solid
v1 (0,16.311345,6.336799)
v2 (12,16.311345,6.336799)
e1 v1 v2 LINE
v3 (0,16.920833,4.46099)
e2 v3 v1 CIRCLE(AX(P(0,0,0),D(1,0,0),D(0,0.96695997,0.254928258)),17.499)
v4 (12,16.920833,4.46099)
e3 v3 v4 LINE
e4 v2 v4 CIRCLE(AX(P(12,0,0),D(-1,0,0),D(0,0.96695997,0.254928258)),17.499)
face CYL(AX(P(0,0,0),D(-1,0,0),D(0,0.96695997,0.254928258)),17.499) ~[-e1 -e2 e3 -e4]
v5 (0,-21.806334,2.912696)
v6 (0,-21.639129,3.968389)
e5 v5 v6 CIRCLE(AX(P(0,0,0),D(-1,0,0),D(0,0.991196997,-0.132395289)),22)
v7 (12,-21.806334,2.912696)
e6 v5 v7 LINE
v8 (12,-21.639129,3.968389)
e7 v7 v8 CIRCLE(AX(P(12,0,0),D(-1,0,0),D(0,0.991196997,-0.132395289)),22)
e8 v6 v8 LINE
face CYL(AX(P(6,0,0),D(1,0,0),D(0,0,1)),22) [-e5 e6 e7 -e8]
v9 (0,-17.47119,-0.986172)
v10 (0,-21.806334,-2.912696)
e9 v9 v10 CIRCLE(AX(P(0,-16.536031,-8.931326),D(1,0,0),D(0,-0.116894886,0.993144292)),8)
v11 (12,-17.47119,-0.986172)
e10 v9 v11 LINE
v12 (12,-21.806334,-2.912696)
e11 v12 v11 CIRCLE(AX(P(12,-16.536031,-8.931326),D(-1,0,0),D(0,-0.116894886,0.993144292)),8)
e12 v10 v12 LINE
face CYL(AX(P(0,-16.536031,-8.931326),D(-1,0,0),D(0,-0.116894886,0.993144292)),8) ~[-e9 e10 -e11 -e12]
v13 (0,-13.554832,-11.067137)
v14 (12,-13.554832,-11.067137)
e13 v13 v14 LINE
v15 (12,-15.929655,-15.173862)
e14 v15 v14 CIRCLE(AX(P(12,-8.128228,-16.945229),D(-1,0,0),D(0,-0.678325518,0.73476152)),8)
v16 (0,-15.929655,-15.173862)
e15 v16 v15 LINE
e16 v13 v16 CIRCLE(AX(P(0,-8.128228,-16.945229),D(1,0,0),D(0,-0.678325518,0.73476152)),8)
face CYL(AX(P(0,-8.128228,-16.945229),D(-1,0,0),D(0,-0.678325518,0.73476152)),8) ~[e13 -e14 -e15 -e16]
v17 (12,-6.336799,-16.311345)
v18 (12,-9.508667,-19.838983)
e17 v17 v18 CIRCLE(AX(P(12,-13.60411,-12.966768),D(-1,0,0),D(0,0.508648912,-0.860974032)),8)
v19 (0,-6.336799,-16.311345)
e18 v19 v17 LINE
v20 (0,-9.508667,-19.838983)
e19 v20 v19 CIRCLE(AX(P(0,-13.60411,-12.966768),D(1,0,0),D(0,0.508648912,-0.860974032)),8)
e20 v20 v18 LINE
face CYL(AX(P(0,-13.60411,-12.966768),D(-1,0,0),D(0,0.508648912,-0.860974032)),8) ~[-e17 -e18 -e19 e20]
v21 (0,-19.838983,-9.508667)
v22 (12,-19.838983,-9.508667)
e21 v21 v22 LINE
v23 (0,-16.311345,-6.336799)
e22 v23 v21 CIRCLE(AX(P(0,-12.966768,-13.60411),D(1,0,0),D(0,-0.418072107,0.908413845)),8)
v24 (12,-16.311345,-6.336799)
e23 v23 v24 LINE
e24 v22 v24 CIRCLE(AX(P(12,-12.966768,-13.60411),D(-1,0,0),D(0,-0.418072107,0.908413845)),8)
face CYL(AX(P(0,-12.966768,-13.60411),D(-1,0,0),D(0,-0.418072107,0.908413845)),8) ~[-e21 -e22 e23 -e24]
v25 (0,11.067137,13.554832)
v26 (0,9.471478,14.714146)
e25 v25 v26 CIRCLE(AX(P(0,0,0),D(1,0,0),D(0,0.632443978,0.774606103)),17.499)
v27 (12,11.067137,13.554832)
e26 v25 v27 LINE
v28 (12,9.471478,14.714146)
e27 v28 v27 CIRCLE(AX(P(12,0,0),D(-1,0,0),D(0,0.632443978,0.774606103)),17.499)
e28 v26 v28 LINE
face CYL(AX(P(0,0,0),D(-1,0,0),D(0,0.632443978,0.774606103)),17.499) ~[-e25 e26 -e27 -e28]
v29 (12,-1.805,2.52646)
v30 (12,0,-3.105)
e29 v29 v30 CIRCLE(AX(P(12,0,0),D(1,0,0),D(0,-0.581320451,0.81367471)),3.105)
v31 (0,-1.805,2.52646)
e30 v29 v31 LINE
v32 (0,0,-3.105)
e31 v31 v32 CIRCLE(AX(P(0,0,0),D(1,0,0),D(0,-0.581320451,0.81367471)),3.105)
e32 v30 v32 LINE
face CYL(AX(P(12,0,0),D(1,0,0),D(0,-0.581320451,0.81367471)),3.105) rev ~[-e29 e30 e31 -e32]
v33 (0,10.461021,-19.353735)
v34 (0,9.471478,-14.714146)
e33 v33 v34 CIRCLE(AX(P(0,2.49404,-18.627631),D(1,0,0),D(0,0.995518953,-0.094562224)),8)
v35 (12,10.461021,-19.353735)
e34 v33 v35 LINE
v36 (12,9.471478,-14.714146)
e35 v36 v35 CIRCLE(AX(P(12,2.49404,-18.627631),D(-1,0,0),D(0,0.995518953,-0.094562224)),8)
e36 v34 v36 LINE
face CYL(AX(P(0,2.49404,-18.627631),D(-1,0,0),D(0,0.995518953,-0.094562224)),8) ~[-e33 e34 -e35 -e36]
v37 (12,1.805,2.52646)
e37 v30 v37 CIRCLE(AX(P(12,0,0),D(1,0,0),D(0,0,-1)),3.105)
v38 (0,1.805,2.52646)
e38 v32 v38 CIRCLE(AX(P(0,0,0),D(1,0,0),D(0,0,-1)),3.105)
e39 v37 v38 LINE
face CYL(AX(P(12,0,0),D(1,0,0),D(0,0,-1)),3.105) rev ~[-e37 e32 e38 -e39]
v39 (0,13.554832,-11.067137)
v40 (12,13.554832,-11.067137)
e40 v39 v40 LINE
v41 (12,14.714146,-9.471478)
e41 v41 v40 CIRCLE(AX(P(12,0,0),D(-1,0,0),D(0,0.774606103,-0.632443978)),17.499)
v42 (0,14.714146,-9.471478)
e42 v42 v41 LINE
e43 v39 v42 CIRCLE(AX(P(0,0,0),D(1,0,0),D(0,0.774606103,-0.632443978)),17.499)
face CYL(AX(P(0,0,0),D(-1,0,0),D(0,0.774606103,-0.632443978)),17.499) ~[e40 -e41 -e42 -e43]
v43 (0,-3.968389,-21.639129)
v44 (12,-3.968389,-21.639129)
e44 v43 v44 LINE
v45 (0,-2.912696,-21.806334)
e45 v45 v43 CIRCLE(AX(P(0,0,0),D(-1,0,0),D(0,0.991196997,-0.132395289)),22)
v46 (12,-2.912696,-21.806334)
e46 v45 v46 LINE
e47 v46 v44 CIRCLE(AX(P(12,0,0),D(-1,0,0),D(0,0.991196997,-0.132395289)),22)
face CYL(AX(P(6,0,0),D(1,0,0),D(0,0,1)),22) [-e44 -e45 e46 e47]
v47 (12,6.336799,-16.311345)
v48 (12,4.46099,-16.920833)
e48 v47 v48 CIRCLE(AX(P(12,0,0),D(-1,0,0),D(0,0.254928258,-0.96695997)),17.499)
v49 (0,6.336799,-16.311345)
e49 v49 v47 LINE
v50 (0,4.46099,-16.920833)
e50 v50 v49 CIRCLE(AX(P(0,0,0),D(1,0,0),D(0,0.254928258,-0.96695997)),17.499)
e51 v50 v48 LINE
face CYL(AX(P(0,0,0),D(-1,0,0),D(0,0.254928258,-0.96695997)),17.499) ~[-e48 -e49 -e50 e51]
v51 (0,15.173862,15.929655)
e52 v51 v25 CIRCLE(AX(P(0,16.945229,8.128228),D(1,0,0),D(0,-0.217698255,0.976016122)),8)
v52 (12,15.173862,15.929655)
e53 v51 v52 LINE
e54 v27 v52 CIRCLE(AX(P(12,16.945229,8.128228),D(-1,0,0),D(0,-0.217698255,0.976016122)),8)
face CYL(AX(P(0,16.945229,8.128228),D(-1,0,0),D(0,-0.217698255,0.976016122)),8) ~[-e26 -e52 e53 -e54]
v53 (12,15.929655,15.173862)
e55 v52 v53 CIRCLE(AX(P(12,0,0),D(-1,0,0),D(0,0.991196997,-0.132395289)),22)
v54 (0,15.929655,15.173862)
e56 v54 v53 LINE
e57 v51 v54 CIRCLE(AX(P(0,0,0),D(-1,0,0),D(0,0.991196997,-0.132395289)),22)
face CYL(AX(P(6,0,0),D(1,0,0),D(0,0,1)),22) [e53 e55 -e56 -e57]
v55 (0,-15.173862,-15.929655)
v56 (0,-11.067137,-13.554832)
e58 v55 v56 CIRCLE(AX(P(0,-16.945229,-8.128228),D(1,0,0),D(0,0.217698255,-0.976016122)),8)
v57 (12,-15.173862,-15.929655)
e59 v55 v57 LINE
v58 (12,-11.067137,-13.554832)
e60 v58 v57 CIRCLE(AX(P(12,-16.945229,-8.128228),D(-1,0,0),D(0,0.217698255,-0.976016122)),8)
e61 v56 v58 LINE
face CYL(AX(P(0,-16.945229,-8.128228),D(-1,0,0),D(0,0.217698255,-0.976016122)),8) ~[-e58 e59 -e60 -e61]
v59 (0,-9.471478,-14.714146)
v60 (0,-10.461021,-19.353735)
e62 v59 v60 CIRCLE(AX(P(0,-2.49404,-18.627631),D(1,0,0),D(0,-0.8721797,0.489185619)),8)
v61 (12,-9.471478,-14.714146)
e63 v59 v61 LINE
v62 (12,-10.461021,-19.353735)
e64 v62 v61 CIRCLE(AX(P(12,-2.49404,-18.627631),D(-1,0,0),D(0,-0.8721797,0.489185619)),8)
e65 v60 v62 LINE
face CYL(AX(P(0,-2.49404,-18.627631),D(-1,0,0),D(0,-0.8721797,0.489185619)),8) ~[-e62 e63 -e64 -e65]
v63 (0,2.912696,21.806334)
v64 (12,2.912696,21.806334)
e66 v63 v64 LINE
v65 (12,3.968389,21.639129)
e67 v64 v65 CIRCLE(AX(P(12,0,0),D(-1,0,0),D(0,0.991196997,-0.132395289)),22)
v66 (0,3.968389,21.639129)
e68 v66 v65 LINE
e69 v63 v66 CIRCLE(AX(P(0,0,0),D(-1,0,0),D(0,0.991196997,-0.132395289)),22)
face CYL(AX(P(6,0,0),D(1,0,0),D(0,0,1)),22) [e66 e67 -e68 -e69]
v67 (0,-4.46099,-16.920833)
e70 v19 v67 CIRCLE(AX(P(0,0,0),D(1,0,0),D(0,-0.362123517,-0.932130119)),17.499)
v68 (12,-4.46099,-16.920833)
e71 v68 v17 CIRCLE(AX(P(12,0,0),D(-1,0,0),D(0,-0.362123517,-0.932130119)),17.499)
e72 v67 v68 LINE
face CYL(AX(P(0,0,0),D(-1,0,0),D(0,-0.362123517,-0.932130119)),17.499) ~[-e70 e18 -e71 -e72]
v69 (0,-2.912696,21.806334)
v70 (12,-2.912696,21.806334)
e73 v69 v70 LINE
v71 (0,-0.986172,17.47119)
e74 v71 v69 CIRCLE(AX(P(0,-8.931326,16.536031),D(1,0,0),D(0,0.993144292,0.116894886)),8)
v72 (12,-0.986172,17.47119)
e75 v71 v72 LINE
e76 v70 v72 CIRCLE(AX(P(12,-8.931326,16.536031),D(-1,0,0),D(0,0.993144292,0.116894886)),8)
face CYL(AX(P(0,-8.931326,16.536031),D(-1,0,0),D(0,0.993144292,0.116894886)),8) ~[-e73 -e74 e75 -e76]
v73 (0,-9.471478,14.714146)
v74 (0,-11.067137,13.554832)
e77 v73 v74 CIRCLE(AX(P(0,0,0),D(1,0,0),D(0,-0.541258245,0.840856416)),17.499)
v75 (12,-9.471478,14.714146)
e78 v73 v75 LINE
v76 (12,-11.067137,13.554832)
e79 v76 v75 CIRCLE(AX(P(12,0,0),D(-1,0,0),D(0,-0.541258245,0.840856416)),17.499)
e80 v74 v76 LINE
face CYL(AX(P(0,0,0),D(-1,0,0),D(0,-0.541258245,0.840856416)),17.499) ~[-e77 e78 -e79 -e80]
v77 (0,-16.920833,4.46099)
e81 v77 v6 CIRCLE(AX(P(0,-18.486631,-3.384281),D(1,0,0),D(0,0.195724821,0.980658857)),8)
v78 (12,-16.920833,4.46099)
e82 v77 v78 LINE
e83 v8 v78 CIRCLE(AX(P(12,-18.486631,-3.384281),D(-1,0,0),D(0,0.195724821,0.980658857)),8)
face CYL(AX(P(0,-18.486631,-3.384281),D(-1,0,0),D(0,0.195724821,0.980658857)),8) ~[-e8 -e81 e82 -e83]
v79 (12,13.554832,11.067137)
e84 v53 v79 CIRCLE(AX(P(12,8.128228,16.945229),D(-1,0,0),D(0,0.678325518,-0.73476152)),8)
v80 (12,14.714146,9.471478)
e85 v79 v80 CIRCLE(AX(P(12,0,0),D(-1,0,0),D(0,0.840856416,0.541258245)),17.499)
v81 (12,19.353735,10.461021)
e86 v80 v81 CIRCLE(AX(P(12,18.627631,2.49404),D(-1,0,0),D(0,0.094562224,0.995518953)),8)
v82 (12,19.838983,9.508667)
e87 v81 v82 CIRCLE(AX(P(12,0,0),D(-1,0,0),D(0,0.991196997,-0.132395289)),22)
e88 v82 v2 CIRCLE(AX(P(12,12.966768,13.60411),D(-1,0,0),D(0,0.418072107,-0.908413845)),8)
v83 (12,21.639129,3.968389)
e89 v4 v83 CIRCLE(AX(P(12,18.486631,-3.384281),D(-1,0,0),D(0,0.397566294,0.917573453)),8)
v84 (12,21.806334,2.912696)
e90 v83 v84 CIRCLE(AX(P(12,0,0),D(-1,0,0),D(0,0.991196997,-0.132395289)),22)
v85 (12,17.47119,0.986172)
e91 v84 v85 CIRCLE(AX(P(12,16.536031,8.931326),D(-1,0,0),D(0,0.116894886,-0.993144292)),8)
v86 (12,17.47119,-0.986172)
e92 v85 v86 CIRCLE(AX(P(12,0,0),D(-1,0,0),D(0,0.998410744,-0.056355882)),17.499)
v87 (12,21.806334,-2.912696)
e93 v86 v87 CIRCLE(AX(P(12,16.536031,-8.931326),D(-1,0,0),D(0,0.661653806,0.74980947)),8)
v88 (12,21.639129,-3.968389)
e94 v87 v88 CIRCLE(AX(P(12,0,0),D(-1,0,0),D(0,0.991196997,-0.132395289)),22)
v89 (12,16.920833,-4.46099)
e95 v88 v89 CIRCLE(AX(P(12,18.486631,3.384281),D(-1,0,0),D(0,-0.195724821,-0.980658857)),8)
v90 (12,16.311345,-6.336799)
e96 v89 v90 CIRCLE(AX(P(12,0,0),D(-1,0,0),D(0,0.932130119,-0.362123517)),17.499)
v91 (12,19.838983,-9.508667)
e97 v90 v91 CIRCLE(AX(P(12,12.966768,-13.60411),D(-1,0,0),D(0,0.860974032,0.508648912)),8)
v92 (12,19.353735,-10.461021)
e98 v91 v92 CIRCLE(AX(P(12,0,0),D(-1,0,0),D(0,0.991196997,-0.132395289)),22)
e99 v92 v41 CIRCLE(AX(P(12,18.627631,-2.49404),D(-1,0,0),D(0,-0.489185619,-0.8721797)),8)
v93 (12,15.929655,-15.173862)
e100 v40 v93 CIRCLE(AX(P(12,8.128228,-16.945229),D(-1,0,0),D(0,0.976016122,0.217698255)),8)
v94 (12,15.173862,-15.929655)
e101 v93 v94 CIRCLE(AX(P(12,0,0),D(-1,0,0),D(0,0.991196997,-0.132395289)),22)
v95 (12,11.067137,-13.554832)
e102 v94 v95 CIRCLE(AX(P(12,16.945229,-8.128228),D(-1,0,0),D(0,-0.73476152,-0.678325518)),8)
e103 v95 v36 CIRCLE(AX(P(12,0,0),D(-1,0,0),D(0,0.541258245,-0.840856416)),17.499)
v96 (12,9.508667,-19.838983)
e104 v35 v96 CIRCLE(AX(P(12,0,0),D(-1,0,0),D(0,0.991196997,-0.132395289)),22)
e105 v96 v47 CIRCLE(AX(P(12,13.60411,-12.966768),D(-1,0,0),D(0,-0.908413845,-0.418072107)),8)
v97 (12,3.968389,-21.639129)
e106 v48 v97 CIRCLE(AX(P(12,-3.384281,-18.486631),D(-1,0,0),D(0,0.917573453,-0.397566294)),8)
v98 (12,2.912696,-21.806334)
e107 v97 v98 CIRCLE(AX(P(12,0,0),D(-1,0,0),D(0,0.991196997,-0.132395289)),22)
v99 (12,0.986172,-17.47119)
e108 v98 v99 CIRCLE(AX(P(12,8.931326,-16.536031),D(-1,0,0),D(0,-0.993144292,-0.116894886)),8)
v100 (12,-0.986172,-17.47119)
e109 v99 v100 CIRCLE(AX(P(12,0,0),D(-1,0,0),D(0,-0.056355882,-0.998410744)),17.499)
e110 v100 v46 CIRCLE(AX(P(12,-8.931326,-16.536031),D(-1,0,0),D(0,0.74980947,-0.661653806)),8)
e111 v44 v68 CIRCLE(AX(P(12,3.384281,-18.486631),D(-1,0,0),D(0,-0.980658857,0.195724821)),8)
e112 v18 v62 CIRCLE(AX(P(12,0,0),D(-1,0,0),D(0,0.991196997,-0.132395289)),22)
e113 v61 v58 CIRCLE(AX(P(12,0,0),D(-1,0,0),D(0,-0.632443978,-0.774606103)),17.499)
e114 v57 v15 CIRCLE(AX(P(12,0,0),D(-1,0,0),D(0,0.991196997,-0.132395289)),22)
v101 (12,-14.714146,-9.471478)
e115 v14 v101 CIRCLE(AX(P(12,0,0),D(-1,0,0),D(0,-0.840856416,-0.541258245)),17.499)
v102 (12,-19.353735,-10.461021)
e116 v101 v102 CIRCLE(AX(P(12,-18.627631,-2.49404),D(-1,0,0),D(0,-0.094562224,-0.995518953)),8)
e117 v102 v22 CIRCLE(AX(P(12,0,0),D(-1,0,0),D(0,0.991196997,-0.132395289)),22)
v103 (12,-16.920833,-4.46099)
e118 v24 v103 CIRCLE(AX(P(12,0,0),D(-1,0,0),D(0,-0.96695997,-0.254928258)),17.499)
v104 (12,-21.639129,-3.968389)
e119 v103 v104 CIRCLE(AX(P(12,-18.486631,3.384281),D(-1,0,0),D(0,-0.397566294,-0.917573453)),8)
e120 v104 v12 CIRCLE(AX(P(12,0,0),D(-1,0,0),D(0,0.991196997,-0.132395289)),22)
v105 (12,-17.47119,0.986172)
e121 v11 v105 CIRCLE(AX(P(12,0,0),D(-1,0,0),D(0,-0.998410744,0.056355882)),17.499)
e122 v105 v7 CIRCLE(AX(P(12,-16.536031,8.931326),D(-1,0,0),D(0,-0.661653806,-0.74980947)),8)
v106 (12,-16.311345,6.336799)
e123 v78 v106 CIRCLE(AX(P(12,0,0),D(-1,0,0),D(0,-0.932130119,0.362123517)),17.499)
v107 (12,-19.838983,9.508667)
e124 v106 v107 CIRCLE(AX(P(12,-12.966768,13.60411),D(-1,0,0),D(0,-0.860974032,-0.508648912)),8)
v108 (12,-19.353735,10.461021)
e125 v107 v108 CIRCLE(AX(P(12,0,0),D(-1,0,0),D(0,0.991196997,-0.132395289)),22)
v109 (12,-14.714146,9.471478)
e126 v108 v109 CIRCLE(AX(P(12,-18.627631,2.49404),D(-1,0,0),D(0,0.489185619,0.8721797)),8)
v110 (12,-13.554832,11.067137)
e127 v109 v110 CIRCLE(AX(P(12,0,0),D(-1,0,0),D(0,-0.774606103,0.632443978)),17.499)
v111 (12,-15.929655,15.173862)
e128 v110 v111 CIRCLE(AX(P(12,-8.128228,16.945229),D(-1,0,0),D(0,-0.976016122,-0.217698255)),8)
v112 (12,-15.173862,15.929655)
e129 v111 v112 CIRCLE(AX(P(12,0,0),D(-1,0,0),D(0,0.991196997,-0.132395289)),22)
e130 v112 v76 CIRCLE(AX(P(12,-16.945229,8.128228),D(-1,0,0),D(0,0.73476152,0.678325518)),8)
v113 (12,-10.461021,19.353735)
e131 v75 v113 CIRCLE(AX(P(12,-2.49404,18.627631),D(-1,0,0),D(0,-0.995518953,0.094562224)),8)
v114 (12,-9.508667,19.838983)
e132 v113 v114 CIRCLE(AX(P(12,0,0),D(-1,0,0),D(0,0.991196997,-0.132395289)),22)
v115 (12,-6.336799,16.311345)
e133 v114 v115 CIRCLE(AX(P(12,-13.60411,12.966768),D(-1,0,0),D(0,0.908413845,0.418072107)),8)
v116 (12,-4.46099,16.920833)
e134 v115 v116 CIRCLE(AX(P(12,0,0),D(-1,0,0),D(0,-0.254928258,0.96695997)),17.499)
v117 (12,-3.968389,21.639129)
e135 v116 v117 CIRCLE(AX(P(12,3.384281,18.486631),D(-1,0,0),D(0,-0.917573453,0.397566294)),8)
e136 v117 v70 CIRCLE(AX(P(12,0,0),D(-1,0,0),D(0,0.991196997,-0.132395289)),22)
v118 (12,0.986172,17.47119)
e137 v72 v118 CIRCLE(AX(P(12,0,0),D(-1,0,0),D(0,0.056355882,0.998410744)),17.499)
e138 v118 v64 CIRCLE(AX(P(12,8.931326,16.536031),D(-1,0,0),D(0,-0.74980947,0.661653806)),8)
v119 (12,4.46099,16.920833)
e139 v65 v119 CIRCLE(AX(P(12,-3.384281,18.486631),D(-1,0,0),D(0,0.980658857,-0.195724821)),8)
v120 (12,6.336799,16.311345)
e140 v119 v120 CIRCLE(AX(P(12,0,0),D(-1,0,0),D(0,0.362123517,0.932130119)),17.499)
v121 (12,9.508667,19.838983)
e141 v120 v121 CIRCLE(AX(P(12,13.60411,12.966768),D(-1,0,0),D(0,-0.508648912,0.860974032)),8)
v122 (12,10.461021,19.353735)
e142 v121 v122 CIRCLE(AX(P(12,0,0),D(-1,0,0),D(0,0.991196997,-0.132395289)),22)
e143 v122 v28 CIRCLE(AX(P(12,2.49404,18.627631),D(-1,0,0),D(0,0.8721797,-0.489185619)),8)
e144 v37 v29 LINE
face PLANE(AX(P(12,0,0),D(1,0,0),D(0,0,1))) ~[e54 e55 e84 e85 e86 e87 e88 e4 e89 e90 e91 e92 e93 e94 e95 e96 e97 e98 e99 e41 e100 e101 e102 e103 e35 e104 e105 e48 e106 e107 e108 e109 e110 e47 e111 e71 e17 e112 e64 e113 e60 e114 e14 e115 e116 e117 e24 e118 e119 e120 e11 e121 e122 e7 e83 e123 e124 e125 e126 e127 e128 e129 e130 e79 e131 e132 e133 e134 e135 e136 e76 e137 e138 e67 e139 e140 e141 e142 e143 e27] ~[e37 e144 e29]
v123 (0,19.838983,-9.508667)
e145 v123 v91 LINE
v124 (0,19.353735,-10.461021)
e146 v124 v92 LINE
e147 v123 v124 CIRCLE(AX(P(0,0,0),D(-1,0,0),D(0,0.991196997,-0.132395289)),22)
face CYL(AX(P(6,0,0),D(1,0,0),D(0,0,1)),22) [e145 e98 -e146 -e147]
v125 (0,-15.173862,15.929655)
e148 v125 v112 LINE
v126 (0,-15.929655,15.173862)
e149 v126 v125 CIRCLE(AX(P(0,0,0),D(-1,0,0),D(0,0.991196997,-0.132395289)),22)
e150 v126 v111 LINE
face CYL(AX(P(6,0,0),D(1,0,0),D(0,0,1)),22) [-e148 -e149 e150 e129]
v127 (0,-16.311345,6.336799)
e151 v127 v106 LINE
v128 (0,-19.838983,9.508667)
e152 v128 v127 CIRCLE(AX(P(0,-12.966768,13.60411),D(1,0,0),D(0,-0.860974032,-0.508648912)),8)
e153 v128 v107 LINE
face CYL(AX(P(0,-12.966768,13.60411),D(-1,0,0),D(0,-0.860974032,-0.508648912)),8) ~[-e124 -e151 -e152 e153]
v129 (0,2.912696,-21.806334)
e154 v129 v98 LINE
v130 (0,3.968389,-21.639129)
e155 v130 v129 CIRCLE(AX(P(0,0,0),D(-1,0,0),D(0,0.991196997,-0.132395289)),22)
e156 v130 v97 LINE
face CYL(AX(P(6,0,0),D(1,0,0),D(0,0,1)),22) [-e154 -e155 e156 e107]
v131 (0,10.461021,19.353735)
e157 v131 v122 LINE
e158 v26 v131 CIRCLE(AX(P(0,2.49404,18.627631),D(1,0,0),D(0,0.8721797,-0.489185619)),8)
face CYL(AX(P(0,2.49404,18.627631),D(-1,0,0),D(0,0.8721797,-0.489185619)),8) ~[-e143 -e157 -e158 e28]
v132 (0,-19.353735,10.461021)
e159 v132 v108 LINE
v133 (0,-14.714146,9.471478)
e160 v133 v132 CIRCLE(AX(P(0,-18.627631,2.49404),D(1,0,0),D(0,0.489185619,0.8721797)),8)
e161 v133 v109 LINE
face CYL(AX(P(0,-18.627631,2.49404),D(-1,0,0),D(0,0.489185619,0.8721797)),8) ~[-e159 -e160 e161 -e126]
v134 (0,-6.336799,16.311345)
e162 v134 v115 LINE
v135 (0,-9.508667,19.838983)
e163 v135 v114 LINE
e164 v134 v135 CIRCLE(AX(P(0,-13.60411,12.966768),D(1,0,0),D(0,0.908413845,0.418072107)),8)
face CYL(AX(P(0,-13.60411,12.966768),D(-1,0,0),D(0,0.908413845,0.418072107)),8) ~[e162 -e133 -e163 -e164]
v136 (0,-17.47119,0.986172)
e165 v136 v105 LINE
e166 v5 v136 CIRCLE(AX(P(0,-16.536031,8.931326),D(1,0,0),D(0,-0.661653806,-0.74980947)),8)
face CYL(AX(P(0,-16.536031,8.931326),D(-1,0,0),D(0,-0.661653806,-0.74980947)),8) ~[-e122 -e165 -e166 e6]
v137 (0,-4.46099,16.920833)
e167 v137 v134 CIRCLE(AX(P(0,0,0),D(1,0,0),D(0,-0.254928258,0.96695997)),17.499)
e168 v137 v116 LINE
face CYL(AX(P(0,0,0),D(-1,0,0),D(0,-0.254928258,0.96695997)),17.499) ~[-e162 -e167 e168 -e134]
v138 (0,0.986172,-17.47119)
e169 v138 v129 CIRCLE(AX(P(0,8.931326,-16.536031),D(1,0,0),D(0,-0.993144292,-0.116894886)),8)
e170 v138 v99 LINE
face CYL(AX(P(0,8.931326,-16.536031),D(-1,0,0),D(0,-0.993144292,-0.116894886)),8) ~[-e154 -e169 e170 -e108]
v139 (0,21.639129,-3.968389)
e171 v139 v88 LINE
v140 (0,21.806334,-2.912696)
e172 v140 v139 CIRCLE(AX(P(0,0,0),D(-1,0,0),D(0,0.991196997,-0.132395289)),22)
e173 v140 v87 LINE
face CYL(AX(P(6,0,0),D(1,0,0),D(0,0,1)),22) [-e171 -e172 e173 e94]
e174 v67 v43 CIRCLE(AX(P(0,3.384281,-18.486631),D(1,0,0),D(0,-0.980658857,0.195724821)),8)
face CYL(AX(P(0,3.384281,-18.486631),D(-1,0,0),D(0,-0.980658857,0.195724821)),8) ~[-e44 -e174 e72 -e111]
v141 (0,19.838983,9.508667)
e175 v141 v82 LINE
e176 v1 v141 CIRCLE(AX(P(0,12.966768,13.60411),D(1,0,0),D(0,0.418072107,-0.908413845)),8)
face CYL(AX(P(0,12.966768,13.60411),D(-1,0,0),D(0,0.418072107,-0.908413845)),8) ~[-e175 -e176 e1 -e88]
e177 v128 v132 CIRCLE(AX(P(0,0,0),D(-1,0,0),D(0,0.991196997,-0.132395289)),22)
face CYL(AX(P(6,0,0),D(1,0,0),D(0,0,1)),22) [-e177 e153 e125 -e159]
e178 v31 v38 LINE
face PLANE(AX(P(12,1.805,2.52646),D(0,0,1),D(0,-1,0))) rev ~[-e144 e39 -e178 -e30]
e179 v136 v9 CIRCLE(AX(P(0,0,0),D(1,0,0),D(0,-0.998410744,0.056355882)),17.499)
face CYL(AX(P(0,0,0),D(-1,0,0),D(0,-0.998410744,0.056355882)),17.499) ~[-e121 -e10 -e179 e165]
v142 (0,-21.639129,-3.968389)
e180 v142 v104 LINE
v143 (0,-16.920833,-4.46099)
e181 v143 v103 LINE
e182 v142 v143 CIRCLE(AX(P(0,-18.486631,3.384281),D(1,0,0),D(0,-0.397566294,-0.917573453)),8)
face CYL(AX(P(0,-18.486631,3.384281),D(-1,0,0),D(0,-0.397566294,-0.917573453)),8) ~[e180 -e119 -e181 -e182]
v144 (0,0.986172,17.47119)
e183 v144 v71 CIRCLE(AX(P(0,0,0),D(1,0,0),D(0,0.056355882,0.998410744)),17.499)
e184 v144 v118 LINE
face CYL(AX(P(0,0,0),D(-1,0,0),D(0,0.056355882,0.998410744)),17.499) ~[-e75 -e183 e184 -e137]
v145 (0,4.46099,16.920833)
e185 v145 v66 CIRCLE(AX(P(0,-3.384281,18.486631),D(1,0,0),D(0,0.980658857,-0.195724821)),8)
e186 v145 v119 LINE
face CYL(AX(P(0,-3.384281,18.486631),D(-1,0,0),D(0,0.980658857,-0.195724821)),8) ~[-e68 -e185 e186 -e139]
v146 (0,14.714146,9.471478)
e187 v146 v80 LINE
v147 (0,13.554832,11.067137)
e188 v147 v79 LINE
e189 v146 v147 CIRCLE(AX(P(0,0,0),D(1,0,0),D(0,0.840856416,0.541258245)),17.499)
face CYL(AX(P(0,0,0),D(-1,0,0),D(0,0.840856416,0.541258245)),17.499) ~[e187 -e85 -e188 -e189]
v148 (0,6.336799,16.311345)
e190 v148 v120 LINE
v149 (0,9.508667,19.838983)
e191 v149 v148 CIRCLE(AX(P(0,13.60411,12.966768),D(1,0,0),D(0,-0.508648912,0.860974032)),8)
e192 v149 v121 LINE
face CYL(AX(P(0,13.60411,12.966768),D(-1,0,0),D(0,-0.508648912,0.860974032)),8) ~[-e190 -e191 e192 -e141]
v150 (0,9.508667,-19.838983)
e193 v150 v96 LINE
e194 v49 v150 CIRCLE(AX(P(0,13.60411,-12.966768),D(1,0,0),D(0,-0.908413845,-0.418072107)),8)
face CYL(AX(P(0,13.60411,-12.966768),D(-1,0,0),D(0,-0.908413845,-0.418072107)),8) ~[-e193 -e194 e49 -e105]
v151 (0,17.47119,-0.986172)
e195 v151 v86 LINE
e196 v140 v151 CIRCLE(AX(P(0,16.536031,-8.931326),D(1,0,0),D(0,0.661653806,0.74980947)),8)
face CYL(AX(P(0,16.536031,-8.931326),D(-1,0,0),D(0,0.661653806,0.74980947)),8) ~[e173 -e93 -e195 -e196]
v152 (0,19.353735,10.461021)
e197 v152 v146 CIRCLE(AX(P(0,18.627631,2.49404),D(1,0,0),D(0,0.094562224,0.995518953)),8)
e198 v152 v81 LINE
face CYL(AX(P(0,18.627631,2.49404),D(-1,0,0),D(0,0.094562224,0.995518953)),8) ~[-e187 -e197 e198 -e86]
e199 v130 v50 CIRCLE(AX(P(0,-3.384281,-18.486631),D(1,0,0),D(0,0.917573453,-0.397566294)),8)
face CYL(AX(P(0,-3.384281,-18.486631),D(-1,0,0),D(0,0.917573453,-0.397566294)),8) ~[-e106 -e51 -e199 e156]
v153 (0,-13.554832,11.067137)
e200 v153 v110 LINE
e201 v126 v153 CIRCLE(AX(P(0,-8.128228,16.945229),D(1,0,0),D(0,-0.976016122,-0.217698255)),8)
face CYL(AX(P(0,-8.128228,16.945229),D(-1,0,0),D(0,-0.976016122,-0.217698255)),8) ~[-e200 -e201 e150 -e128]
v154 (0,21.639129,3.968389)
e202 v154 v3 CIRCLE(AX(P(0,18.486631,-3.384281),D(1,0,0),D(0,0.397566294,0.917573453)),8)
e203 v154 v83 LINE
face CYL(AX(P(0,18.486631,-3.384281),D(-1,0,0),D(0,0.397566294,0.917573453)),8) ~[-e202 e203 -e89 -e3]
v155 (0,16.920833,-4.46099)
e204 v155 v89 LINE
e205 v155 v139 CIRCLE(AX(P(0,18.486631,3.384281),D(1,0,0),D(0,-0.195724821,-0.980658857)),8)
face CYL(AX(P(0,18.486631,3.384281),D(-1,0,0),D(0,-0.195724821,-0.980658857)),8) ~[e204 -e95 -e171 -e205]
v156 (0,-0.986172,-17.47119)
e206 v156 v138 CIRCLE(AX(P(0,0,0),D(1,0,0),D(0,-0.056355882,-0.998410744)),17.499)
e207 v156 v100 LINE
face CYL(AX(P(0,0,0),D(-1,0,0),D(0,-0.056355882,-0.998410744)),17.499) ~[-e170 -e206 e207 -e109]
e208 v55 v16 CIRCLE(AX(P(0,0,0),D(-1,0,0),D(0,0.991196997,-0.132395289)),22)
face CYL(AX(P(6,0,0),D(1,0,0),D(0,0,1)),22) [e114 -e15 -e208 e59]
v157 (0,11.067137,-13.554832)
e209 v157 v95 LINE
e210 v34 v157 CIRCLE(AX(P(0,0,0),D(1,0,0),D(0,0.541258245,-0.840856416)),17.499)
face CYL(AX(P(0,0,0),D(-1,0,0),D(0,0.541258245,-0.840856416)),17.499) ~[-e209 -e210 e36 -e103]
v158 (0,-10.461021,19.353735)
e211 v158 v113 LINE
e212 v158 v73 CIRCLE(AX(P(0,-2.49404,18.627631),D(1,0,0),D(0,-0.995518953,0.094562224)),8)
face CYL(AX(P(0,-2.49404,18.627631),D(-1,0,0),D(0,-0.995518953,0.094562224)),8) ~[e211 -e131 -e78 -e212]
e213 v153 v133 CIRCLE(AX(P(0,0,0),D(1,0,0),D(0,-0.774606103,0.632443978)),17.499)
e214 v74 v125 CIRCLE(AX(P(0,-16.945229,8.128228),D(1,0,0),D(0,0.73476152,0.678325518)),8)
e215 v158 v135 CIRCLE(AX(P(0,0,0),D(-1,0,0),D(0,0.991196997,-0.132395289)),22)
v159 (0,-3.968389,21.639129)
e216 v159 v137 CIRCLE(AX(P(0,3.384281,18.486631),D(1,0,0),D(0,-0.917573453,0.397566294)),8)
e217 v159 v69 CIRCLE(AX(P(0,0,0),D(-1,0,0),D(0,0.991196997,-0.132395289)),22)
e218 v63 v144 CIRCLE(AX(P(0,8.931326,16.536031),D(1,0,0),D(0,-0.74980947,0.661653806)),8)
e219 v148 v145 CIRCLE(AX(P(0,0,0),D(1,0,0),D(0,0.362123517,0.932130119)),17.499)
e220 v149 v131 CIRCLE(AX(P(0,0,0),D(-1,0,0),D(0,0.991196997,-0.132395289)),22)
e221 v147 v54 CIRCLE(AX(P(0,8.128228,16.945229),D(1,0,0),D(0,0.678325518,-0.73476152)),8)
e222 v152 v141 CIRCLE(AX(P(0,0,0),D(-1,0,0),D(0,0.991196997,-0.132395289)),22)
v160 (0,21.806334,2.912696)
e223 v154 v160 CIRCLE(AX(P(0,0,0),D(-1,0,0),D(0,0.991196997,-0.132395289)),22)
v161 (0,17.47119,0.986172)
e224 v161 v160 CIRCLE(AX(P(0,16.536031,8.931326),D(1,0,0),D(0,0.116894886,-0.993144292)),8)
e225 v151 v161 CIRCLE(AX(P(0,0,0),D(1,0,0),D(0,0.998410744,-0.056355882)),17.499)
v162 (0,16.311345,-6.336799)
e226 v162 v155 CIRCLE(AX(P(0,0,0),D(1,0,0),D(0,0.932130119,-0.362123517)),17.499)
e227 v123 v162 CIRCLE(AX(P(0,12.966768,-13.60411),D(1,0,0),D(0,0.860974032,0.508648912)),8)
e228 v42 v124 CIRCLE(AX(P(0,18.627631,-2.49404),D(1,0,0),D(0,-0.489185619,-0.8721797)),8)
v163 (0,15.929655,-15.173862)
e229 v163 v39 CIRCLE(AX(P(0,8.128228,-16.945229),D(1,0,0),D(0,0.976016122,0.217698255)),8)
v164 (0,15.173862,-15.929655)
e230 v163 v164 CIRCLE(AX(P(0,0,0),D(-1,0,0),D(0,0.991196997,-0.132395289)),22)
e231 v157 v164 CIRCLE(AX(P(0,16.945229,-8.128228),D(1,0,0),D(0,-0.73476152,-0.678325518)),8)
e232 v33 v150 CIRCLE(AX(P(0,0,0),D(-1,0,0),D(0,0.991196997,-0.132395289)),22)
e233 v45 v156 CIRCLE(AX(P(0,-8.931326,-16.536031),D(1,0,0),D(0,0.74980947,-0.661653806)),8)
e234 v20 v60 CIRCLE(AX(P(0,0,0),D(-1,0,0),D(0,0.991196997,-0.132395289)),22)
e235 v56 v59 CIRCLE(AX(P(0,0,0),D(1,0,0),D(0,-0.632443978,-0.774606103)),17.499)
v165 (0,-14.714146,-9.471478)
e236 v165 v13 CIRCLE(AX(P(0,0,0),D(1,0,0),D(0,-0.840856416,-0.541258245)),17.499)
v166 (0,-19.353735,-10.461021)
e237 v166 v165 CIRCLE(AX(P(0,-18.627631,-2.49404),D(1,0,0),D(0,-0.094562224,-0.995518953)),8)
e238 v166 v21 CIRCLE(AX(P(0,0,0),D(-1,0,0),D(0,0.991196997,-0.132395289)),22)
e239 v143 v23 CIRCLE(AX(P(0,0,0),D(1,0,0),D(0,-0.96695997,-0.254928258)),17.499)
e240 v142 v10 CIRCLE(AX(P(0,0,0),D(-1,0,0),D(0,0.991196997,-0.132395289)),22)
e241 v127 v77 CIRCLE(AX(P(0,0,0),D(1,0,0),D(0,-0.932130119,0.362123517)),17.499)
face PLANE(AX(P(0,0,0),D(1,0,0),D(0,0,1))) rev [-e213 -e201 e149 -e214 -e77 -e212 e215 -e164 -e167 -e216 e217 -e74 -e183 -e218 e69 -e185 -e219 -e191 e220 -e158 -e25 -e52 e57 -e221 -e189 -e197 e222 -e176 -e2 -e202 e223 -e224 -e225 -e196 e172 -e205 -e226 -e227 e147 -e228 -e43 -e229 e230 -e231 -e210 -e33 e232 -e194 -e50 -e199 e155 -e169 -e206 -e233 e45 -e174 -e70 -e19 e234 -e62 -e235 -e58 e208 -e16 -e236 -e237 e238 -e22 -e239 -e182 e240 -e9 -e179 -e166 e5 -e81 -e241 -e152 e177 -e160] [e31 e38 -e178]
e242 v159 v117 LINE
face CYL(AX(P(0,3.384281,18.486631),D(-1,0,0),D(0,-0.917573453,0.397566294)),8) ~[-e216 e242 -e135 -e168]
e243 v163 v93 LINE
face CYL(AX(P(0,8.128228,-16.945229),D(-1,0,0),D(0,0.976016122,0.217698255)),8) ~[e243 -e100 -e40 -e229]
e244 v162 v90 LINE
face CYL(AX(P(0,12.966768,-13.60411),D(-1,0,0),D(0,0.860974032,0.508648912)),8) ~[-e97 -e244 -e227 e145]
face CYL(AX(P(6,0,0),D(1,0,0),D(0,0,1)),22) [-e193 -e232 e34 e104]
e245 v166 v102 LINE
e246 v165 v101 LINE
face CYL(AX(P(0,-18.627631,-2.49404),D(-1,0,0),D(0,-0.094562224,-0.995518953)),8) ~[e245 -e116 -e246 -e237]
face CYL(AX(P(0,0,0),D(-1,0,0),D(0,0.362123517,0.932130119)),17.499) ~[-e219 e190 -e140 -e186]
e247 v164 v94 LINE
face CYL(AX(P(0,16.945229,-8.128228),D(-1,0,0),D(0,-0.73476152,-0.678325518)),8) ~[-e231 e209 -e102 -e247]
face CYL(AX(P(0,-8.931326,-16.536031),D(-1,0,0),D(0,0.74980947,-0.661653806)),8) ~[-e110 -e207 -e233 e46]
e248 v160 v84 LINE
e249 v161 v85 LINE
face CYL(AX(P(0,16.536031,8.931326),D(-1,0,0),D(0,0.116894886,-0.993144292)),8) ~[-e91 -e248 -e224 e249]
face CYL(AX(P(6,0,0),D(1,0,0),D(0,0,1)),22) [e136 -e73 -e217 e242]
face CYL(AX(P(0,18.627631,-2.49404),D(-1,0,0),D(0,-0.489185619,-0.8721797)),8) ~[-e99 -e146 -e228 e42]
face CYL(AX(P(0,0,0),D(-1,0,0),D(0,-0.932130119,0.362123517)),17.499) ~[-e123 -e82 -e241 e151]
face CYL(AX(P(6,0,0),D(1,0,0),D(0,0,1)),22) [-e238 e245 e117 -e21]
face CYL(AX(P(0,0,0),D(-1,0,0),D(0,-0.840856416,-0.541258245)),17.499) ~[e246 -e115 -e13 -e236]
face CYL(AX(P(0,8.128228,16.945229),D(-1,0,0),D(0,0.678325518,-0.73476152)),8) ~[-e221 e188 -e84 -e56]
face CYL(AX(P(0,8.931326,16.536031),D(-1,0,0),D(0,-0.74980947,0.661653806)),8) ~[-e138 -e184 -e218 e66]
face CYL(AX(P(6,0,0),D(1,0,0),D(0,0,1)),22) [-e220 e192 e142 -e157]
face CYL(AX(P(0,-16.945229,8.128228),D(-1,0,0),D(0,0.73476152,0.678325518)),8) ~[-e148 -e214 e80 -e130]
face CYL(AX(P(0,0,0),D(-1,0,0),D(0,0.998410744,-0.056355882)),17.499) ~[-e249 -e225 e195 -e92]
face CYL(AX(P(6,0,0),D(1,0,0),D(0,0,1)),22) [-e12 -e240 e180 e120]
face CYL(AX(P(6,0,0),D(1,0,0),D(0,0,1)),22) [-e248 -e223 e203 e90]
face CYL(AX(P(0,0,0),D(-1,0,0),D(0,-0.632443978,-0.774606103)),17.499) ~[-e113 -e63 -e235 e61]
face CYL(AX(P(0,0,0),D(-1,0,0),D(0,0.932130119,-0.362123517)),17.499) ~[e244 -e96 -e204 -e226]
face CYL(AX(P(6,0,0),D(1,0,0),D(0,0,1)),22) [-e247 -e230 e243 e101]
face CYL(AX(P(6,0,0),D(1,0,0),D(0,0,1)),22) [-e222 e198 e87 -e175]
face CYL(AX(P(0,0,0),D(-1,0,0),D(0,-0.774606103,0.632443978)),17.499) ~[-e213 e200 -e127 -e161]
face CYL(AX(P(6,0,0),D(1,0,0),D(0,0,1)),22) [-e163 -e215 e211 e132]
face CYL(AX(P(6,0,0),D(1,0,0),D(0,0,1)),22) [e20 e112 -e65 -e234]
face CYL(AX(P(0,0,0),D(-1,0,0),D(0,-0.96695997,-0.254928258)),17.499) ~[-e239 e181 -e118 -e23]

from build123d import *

# Parameters (mm, degrees)
BASPROSKE_W           = 12
BASPROSKE_H           = 22
TOOTHCUT_DEPTH        = 34.346664001
TEETHCUTS_COUNT       = 20
TEETHCUTS_ANGLE       = 342
BORSKE_R              = 0.4
BORE_DEPTH            = 50.0000508
KES_EKSTR_ZYON1_DEPTH = 100


with BuildPart() as part:
    # BasProSke → Base-Revolve (revolve)
    with BuildSketch(Plane(origin=(0, 0, 0), x_dir=(1, 0, 0), z_dir=(0, 1, 0)), mode=Mode.PRIVATE) as base_revolve_sk:
        with Locations((6, 11)):
            Rectangle(BASPROSKE_W, BASPROSKE_H)
    revolve(base_revolve_sk.sketch.rotate(Axis((-10, 0, 0), (1, 0, 0)), 180), axis=Axis((-10, 0, 0), (1, 0, 0)))

    # TooCutSke → ToothCut (cut, through all)
    with BuildSketch(Plane(origin=(0, 0, 0), x_dir=(0, 0, -1), z_dir=(1, 0, 0))):
        with BuildLine():
            ThreePointArc((0.986171591, 17.471189616), (0, 17.499), (-0.986171591, 17.471189616))
            ThreePointArc((-0.986171591, 17.471189616), (-1.626916196, 19.798789858), (-2.932850173, 21.829260982))
            ThreePointArc((-2.932850173, 21.829260982), (0, 22.0254), (2.932850173, 21.829260982))
            ThreePointArc((2.932850173, 21.829260982), (1.626916196, 19.798789858), (0.986171591, 17.471189616))
        make_face()
    toothcut = extrude(amount=TOOTHCUT_DEPTH, mode=Mode.SUBTRACT)

    # TeethCuts: ToothCut ×20 about axis
    teethcuts_axis = Axis((-10, 0, 0), (1, 0, 0))
    for i in range(1, TEETHCUTS_COUNT):
        add(toothcut.rotate(teethcuts_axis, i * TEETHCUTS_ANGLE / (TEETHCUTS_COUNT - 1)), mode=Mode.SUBTRACT)

    # BorSke → Bore (cut, symmetric)
    with BuildSketch(Plane(origin=(0, 0, 0), x_dir=(0, 0, -1), z_dir=(1, 0, 0))):
        with Locations(Location((0, 0, 0), (0, 0, 180))):
            Circle(BORSKE_R)
    extrude(amount=BORE_DEPTH, both=True, mode=Mode.SUBTRACT)

    # Çizim1 → Kes-Ekstrüzyon1 (cut)
    with BuildSketch(Plane(origin=(12, 0, 0), x_dir=(0, 0, -1), z_dir=(1, 0, 0))):
        with BuildLine():
            ThreePointArc((3.105, 0), (0.947725377, 2.956829655), (-2.526459974, 1.805))
            Line((-2.526459974, 1.805), (-2.526459974, -1.805))
            ThreePointArc((-2.526459974, -1.805), (0.947725377, -2.956829655), (3.105, 0))
        make_face()
    extrude(amount=-KES_EKSTR_ZYON1_DEPTH, mode=Mode.SUBTRACT)


solid = part.part
